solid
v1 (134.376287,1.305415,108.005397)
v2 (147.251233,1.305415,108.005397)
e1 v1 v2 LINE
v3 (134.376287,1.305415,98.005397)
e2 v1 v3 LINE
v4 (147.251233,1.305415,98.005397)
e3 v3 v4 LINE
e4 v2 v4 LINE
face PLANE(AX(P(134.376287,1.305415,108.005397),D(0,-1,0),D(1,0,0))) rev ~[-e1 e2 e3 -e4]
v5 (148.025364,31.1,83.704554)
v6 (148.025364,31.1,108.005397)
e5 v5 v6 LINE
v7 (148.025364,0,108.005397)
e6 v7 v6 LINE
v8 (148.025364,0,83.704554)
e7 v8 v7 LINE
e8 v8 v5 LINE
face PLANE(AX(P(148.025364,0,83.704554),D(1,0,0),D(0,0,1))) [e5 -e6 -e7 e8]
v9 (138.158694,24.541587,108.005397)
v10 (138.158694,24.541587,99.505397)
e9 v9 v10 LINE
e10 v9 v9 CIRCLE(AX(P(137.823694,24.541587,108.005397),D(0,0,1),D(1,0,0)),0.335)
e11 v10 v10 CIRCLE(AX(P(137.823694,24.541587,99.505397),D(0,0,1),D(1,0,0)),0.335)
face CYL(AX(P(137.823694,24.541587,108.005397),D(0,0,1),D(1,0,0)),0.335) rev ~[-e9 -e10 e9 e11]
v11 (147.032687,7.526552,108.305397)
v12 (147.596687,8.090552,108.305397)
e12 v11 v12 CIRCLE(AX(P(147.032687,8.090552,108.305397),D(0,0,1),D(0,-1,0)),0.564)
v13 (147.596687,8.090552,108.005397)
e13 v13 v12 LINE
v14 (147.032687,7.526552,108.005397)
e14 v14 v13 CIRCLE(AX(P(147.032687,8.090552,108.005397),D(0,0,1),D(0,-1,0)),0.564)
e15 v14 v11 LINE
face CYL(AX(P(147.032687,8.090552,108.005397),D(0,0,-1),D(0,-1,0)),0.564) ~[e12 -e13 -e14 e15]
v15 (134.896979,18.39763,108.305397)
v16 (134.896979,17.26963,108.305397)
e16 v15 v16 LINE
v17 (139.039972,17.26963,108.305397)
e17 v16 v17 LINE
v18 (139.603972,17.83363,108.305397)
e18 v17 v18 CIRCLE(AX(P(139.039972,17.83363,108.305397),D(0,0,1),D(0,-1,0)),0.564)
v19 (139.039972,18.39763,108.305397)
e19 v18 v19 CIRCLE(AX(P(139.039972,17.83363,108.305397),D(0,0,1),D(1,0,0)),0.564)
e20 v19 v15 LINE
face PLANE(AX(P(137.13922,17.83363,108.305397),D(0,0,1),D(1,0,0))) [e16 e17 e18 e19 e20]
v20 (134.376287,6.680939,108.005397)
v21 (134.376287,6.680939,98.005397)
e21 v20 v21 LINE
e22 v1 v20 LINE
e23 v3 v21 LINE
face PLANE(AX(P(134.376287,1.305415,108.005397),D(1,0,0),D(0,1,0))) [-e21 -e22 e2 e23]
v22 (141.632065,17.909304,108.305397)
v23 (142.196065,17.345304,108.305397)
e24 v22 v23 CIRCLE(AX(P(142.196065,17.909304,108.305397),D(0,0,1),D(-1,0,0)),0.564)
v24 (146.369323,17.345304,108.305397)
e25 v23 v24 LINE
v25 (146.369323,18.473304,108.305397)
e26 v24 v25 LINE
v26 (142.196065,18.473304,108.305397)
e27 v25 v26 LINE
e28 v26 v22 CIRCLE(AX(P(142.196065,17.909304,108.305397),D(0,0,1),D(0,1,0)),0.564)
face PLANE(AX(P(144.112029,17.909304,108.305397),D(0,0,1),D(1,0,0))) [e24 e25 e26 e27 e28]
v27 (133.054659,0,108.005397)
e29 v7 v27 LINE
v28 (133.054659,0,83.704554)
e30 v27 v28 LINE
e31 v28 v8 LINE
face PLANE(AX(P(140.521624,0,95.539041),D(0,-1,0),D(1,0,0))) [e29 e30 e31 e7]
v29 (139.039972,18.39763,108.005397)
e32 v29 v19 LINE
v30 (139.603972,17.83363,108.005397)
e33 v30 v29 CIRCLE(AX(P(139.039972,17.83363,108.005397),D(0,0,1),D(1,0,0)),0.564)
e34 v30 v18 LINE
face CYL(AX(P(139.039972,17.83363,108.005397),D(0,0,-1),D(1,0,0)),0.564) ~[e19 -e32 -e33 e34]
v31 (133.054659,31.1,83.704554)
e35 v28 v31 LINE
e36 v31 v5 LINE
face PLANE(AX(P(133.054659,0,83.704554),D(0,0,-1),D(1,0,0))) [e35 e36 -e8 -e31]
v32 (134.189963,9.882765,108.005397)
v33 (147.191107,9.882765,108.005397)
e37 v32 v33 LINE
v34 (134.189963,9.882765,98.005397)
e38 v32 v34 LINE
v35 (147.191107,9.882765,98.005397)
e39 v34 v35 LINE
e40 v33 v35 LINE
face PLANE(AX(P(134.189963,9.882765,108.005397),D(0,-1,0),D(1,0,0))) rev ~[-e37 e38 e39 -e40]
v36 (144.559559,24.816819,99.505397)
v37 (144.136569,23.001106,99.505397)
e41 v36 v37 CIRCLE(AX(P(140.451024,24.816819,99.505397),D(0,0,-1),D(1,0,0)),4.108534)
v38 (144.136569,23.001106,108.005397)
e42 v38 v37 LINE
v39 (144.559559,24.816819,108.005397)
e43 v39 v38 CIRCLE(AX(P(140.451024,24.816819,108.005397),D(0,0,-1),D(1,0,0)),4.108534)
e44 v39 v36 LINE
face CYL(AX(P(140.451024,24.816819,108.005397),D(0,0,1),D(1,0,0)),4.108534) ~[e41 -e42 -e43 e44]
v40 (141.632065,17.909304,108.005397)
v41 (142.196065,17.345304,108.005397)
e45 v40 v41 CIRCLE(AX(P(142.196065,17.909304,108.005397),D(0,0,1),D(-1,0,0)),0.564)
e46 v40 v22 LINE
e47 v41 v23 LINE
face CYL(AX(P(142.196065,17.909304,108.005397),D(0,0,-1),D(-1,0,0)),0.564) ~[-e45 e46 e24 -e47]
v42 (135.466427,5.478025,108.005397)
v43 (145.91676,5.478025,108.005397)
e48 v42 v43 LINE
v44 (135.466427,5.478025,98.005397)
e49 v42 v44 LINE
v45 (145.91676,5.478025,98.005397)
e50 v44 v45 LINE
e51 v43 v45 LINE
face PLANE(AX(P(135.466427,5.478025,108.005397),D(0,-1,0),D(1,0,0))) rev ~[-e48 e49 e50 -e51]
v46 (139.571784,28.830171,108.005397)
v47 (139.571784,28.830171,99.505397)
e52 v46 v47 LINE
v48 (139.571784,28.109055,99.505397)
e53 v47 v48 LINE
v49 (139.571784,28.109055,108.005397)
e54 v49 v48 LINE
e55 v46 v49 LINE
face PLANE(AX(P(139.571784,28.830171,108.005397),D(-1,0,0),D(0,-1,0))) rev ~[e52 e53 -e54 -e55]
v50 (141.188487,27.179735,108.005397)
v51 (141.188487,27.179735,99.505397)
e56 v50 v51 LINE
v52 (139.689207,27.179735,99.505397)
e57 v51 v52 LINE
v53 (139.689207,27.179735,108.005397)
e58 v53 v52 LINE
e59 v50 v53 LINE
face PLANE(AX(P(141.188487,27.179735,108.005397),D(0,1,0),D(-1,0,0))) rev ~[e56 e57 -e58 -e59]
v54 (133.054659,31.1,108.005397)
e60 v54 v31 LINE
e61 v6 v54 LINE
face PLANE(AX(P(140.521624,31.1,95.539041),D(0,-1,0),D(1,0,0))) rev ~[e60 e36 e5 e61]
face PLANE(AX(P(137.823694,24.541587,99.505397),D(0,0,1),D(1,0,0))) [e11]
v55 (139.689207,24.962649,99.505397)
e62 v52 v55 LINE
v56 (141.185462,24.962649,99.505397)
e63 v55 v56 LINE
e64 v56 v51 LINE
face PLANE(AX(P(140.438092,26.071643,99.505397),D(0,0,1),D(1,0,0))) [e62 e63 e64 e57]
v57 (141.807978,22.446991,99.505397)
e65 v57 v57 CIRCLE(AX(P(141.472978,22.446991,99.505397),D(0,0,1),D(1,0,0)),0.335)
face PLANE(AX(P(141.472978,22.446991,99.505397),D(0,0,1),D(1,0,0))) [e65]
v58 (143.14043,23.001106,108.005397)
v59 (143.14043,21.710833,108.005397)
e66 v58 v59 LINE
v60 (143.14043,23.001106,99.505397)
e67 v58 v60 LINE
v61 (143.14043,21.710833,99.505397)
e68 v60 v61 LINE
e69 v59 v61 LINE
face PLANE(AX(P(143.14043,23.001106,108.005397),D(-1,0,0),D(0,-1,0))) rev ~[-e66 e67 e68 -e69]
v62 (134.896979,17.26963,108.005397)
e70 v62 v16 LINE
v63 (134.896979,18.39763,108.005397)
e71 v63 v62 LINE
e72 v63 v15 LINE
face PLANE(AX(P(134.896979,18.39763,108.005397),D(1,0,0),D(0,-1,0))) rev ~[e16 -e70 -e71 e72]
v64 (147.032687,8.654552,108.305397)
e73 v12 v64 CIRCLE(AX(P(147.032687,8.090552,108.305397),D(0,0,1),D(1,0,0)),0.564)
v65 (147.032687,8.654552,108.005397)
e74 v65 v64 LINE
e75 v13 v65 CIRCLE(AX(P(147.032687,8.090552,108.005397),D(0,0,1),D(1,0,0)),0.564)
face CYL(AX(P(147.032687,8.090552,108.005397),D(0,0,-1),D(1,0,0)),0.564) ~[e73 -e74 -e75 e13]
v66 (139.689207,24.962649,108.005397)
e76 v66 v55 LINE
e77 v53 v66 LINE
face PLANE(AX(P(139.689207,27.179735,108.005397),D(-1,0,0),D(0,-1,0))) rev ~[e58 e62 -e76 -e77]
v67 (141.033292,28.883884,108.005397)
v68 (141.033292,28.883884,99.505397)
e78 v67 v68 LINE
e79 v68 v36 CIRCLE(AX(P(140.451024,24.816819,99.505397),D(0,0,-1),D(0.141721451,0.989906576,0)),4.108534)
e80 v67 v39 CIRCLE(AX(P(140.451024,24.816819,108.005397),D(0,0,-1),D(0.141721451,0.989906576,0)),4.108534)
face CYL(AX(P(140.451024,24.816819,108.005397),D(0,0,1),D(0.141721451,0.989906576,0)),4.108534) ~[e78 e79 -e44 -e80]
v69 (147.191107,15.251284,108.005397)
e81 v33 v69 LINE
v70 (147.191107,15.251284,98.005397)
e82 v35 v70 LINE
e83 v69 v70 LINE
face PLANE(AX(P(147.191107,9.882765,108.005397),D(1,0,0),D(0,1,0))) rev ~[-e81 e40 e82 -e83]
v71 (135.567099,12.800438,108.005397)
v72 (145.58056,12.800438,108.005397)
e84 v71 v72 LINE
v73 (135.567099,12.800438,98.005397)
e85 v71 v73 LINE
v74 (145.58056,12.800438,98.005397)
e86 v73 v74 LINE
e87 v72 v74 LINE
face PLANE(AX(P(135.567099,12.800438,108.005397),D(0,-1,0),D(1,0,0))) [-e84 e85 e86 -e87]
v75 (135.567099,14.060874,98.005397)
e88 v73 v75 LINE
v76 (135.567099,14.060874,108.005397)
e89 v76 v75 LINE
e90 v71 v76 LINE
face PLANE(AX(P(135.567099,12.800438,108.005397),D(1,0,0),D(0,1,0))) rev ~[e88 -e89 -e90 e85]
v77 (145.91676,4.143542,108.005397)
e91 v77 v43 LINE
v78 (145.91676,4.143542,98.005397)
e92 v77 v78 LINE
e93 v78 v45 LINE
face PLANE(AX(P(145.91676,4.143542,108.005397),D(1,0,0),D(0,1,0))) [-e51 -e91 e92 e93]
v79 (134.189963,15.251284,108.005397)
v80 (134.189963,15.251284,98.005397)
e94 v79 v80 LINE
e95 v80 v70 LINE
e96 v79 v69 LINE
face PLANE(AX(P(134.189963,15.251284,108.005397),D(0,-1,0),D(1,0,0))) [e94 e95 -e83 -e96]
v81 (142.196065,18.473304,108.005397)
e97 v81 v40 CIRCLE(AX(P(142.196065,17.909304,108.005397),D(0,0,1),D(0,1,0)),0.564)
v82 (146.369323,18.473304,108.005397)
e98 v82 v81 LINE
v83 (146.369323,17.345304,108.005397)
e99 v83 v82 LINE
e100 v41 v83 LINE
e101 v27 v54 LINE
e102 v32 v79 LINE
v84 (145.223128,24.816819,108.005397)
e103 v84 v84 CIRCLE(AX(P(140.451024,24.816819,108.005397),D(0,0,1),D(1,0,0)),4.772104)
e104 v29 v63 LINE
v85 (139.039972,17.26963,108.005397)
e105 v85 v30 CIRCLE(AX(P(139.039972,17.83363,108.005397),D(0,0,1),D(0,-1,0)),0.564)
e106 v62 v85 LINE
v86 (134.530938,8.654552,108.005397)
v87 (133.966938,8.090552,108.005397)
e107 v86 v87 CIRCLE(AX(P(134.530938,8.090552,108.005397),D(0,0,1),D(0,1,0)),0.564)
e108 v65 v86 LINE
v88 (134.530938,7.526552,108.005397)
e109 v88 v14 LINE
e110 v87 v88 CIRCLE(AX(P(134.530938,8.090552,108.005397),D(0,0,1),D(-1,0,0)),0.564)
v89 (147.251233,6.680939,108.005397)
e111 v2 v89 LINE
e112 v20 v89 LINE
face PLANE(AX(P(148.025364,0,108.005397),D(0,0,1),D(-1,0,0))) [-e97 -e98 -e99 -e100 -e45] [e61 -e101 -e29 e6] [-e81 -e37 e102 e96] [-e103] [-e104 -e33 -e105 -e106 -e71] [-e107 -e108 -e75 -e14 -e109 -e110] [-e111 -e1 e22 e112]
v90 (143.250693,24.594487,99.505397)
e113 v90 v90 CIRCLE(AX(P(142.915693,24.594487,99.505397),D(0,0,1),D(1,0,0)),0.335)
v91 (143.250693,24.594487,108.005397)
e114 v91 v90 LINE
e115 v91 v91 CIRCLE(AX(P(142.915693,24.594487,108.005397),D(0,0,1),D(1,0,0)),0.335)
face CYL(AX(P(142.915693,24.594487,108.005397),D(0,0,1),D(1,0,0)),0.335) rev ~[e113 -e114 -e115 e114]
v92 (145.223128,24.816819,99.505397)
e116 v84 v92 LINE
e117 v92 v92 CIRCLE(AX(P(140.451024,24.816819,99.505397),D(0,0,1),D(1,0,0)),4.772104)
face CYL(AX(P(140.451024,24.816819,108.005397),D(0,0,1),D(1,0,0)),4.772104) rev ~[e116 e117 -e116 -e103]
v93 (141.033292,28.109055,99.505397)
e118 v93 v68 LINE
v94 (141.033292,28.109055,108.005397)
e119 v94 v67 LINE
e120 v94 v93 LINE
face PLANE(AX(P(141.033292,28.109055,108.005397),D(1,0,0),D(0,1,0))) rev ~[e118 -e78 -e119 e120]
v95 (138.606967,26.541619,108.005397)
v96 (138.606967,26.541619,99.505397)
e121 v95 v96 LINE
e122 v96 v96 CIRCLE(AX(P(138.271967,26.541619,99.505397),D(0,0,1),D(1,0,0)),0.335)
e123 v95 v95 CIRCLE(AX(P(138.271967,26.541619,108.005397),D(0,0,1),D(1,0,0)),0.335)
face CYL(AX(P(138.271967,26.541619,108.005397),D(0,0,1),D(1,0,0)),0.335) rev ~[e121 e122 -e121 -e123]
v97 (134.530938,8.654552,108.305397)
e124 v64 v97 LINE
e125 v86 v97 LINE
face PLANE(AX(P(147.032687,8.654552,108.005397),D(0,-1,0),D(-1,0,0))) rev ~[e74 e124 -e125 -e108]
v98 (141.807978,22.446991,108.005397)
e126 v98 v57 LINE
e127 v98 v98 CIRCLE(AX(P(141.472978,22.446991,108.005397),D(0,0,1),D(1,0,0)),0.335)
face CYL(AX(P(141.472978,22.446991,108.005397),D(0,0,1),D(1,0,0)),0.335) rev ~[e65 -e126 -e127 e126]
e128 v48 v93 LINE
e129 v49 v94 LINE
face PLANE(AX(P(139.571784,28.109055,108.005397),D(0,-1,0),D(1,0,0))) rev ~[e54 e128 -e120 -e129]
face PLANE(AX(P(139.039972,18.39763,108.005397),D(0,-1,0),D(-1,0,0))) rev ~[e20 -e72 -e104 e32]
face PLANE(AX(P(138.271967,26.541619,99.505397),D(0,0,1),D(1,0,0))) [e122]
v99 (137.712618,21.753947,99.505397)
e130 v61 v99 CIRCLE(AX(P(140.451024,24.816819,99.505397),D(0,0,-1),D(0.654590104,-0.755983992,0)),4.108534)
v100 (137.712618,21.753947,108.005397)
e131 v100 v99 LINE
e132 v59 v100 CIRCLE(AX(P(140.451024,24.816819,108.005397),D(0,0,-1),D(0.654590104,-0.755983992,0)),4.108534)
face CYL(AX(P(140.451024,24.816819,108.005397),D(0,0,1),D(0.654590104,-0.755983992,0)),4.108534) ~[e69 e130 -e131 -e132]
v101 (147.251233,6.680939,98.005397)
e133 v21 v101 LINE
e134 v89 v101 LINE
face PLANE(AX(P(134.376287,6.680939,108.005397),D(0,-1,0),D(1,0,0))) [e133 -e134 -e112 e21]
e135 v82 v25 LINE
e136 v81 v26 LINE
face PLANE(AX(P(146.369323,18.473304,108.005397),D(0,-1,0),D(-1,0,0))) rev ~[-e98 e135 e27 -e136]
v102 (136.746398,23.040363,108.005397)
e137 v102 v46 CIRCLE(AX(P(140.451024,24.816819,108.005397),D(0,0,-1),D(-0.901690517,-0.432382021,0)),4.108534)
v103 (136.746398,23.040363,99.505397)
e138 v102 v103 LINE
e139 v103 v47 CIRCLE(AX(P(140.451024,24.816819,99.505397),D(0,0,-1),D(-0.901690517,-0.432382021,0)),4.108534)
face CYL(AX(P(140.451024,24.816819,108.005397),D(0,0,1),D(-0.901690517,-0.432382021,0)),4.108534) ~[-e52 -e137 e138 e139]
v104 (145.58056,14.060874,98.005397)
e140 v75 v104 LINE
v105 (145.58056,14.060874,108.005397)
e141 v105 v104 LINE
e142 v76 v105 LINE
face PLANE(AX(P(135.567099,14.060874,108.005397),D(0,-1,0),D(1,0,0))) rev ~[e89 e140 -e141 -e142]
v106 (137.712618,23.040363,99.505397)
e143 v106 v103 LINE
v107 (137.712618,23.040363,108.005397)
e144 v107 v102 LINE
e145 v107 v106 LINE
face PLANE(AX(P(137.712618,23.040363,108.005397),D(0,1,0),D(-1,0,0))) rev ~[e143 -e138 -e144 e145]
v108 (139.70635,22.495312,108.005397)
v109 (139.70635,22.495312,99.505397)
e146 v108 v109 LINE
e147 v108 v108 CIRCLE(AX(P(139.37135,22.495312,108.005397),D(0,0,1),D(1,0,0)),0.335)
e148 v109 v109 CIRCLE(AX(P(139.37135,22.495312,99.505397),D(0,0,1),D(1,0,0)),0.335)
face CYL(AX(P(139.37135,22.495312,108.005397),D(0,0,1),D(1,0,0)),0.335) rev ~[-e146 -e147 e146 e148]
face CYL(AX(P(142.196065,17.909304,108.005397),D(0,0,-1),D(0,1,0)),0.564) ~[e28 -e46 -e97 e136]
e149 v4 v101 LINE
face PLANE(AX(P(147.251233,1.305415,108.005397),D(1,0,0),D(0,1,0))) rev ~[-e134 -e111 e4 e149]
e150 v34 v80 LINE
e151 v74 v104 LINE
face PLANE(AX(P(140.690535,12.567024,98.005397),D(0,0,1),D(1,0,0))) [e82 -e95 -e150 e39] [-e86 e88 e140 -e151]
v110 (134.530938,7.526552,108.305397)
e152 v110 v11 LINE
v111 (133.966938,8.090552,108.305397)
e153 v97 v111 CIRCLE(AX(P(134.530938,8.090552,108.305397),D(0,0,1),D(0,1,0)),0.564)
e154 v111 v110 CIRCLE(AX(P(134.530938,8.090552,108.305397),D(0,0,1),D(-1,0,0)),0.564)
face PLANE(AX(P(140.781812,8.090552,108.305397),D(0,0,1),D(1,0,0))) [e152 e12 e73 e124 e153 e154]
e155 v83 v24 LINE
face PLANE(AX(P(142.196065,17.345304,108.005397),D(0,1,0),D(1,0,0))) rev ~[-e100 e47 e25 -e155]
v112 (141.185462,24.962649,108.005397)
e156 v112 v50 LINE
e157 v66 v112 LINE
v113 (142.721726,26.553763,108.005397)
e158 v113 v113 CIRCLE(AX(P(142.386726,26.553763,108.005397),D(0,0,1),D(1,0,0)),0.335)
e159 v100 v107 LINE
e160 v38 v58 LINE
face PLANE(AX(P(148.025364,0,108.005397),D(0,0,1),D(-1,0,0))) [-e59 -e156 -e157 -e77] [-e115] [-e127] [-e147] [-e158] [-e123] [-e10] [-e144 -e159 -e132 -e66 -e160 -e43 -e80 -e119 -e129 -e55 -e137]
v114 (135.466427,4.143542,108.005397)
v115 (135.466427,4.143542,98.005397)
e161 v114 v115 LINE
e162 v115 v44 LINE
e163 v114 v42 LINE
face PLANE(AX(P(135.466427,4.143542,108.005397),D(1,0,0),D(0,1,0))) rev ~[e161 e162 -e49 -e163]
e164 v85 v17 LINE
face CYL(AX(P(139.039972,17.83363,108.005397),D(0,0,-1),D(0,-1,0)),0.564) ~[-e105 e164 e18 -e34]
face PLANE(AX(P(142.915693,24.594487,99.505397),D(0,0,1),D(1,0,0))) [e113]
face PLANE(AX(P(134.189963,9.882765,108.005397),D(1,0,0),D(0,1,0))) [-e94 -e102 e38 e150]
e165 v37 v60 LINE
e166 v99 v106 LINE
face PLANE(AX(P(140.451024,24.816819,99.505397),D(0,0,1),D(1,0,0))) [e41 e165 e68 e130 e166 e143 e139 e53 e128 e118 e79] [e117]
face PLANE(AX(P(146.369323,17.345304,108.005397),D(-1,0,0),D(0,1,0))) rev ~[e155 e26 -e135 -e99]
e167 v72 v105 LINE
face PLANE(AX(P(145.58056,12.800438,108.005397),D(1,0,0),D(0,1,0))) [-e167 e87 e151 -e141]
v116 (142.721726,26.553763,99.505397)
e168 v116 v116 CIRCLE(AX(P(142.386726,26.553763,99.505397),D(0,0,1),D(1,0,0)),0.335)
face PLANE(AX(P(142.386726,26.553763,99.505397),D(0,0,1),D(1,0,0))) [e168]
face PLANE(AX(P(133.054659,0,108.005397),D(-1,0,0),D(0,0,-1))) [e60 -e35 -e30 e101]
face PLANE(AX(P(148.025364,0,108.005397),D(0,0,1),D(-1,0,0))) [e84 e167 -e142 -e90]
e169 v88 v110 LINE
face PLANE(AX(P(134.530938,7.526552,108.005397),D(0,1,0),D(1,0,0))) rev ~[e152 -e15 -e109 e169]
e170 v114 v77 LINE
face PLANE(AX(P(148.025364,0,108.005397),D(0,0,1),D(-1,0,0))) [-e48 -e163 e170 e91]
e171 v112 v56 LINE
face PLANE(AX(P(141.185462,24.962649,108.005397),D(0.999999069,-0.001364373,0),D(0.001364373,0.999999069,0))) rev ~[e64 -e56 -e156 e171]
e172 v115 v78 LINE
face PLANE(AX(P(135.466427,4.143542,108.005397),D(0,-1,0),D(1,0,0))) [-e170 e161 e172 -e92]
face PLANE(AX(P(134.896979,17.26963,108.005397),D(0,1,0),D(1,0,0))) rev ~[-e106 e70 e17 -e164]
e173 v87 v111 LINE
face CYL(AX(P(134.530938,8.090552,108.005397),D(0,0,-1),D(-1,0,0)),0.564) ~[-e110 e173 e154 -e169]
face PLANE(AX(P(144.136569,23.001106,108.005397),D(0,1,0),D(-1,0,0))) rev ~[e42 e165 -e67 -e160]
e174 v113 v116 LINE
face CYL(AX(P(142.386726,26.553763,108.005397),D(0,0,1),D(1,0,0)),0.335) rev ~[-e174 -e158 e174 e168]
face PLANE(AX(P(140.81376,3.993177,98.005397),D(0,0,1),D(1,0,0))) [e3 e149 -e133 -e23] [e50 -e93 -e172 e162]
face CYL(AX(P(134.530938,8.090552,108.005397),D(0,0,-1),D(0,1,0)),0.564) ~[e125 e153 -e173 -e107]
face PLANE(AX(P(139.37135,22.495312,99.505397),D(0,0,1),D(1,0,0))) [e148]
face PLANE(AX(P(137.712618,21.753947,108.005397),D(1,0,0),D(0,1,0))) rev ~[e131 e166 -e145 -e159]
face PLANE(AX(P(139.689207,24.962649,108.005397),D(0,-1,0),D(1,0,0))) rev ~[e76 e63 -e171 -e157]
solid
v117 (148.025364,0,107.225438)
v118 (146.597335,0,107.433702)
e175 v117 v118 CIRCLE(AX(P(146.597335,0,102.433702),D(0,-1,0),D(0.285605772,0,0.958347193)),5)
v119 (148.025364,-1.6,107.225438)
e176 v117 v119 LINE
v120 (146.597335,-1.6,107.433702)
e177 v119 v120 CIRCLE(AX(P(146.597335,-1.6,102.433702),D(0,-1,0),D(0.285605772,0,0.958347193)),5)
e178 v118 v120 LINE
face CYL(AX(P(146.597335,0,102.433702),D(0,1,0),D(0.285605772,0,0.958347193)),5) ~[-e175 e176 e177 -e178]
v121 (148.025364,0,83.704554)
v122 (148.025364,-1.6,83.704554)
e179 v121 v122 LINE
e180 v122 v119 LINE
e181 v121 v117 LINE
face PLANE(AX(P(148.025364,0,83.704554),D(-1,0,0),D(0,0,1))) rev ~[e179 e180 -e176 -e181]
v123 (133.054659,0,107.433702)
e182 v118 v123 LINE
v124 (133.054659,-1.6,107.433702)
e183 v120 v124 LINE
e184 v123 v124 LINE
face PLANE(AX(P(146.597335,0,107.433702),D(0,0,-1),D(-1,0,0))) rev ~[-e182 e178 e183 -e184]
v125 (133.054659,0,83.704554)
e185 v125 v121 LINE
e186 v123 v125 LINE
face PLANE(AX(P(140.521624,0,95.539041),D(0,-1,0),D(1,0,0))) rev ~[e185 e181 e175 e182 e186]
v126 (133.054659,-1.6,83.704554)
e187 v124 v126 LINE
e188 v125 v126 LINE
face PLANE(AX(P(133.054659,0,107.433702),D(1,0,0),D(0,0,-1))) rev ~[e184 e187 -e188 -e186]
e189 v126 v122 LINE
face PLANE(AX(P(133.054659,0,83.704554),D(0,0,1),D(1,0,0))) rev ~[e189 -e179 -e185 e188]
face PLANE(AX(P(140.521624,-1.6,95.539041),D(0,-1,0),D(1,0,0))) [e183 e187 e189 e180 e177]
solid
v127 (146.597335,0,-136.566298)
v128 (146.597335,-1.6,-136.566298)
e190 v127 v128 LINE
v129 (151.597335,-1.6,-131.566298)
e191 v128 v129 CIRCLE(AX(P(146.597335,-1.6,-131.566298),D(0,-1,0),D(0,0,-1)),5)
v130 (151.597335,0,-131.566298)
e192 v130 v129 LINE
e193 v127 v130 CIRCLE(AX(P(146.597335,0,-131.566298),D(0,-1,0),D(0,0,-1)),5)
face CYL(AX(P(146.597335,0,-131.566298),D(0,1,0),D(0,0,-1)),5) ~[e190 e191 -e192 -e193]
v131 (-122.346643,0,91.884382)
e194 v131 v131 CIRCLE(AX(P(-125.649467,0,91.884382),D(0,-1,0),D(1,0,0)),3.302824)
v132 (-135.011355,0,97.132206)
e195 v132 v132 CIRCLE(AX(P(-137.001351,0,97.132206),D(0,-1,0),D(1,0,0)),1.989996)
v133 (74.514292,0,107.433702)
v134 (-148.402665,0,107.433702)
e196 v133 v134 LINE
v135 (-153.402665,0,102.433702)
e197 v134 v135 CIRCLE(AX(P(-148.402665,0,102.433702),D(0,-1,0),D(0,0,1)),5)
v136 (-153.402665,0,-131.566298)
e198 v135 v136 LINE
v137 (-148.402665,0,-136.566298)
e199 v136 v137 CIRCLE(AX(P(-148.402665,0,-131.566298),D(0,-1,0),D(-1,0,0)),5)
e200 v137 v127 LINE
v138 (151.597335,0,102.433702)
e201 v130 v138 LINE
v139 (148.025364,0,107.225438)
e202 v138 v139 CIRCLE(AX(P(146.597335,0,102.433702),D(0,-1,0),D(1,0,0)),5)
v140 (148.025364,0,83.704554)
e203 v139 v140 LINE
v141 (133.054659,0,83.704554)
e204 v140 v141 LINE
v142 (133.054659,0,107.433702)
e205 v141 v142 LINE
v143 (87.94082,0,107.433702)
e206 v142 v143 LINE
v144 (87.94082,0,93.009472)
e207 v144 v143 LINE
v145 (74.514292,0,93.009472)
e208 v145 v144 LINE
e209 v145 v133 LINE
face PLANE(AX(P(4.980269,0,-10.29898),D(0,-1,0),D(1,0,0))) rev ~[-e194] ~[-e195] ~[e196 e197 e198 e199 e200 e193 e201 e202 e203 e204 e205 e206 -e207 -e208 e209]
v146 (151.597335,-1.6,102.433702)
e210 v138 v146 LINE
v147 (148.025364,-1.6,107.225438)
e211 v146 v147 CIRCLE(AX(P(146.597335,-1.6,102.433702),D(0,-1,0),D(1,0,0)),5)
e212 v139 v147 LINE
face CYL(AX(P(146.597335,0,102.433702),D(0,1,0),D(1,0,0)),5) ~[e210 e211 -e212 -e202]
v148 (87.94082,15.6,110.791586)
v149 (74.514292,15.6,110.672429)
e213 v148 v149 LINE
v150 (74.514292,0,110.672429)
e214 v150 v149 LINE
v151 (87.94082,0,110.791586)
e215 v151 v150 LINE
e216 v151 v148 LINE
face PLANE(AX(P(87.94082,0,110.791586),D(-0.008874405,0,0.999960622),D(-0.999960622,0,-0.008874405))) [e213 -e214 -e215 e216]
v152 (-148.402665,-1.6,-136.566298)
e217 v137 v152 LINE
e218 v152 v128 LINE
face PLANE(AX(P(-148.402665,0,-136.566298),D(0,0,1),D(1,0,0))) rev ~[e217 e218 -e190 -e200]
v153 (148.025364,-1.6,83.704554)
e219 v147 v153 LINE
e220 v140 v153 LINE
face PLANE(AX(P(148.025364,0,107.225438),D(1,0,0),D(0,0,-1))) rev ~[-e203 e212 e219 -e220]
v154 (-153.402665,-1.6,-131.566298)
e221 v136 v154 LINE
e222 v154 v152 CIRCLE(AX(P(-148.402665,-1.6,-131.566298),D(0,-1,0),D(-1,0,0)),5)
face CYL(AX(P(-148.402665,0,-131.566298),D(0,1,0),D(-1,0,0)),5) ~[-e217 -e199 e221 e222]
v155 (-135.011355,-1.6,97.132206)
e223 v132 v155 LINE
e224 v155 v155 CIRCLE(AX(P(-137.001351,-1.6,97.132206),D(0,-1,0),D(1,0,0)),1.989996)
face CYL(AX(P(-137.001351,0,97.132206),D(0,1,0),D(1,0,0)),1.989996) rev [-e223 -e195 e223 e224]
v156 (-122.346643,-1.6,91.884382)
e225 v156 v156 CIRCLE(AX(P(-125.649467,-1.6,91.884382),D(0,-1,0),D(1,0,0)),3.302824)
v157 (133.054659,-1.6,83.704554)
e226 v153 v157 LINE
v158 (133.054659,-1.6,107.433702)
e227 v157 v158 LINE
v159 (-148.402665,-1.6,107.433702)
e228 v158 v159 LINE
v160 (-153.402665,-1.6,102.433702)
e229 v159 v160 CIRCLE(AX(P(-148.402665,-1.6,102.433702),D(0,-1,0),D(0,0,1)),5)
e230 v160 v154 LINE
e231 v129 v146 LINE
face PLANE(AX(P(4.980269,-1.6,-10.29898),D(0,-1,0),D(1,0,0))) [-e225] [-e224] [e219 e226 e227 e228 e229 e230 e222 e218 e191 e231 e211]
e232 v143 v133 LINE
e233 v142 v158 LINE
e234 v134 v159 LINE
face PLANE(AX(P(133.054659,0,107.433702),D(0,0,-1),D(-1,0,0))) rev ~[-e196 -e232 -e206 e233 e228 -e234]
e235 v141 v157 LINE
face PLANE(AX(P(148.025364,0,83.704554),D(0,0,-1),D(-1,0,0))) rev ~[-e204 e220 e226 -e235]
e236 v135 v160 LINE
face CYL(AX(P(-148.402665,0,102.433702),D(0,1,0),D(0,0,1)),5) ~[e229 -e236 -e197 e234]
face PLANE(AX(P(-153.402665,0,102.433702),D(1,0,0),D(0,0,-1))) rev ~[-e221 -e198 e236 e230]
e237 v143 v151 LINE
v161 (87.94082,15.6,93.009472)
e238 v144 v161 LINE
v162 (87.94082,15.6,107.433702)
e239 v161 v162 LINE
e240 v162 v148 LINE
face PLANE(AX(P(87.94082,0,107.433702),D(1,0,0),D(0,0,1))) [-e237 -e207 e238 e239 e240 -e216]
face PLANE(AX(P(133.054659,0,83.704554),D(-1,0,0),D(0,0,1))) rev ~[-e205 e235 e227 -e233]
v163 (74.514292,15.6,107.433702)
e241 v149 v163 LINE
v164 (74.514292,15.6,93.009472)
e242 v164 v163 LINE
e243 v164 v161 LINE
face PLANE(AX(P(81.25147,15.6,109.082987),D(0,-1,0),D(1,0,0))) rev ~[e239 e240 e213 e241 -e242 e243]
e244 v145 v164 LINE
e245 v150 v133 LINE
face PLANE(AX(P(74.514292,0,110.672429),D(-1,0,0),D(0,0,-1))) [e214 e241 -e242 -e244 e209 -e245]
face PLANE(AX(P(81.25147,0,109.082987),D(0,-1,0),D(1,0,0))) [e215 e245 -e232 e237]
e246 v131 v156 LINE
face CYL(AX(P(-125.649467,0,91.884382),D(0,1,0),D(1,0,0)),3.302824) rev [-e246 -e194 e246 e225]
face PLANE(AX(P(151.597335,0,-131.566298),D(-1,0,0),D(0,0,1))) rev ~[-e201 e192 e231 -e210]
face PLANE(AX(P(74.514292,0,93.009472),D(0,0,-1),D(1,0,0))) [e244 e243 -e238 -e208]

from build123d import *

# Parameters (mm, degrees)
F1_DEPTH  = 31.1
F2_R      = 4.7721035724
F2_R_2    = 0.335
F3_DEPTH  = 8.5
F4_DEPTH  = 0.3
F2_W      = 13.0011439323
F2_H      = 5.3685186431
F2_W_2    = 10.013461113
F2_H_2    = 1.2604352087
F2_W_3    = 12.8749459982
F2_H_3    = 5.3755240515
F2_W_4    = 10.4503333569
F2_H_4    = 1.3344832696
F5_DEPTH  = 10
F6_DEPTH  = 0.3
F0_R      = 3.3028242823
F0_R_2    = 1.9899956973
F7_DEPTH  = 1.6
F8_DEPTH  = 1.6
F9_W      = 13.4265273809
F9_H      = 14.4242305644
F10_DEPTH = 15.6


with BuildPart() as f1:
    # F0 (on Front) → F1 (new body)
    with BuildSketch(Plane.XZ):
        with BuildLine():
            Line((146.5973348236, 107.4337024577), (133.0546587706, 107.4337024577))
            Line((133.0546587706, 107.4337024577), (133.0546587706, 83.7045535445))
            Line((133.0546587706, 83.7045535445), (148.0253636837, 83.7045535445))
            Line((148.0253636837, 83.7045535445), (148.0253636837, 107.2254384245))
            ThreePointArc((148.0253636837, 107.2254384245), (147.3189026189, 107.3813625023), (146.5973348236, 107.4337024577))
        make_face()
        with BuildLine():
            Line((133.0546587706, 108.0053970218), (133.0546587706, 107.4337024577))
            Line((133.0546587706, 107.4337024577), (146.5973348236, 107.4337024577))
            ThreePointArc((146.5973348236, 107.4337024577), (147.3189026189, 107.3813625023), (148.0253636837, 107.2254384245))
            Line((148.0253636837, 107.2254384245), (148.0253636837, 108.0053970218))
            Line((148.0253636837, 108.0053970218), (133.0546587706, 108.0053970218))
        make_face()
    extrude(amount=-F1_DEPTH)

    # F2 (on face) → F3 (cut)
    with BuildSketch(Plane.XY.offset(108.0053970218)):
        with Locations((140.4510243781, 24.8168191715)):
            Circle(F2_R)
        with BuildLine():
            ThreePointArc((141.0332918167, 28.8838842541), (143.5552408232, 27.5082674839), (144.559558637, 24.8168191715))
            ThreePointArc((144.559558637, 24.8168191715), (144.4524142101, 23.8846533229), (144.136569262, 23.0011064559))
            ThreePointArc((144.136569262, 23.0011064559), (143.7031314856, 22.3060716497), (143.1404302446, 21.7108330411))
            ThreePointArc((143.1404302446, 21.7108330411), (140.4183904808, 20.7084145193), (137.7126180122, 21.7539472623))
            ThreePointArc((137.7126180122, 21.7539472623), (137.1659240775, 22.3493974864), (136.7463979999, 23.0403628239))
            ThreePointArc((136.7463979999, 23.0403628239), (136.7586772419, 26.6186588932), (139.5717839459, 28.8301706411))
            ThreePointArc((139.5717839459, 28.8301706411), (140.3001286267, 28.9225814915), (141.0332918167, 28.8838842541))
        make_face(mode=Mode.SUBTRACT)
        Polygon((139.689207077, 24.9626487494), (141.1854624748, 24.9626487494), (141.1884874105, 27.1797347814), (139.689207077, 27.1797347814), align=None)
        with BuildLine():
            Line((141.0332918167, 28.1090545301), (141.0332918167, 28.8838842541))
            ThreePointArc((141.0332918167, 28.8838842541), (140.3001286267, 28.9225814915), (139.5717839459, 28.8301706411))
            Line((139.5717839459, 28.8301706411), (139.5717839459, 28.1090545301))
            Line((139.5717839459, 28.1090545301), (141.0332918167, 28.1090545301))
        make_face()
        with BuildLine():
            ThreePointArc((143.1404302446, 21.7108330411), (143.7031314856, 22.3060716497), (144.136569262, 23.0011064559))
            Line((144.136569262, 23.0011064559), (143.1404302446, 23.0011064559))
            Line((143.1404302446, 23.0011064559), (143.1404302446, 21.7108330411))
        make_face()
        with BuildLine():
            Line((137.7126180122, 23.0403628239), (136.7463979999, 23.0403628239))
            ThreePointArc((136.7463979999, 23.0403628239), (137.1659240775, 22.3493974864), (137.7126180122, 21.7539472623))
            Line((137.7126180122, 21.7539472623), (137.7126180122, 23.0403628239))
        make_face()
        with Locations((141.4729776408, 22.4469911506)):
            Circle(F2_R_2)
        with Locations((139.3713495952, 22.4953122328)):
            Circle(F2_R_2)
        with Locations((137.8236935557, 24.5415867312)):
            Circle(F2_R_2)
        with Locations((138.271967138, 26.541619488)):
            Circle(F2_R_2)
        with Locations((142.3867255578, 26.5537630882)):
            Circle(F2_R_2)
        with Locations((142.9156926089, 24.5944873077)):
            Circle(F2_R_2)
    extrude(amount=-F3_DEPTH, mode=Mode.SUBTRACT)

    # F2 (on face) → F4 (join)
    with BuildSketch(Plane.XY.offset(108.0053970218)):
        with BuildLine():
            Line((139.039972435, 18.3976299851), (134.8969787359, 18.3976299851))
            Line((134.8969787359, 18.3976299851), (134.8969787359, 17.2696299851))
            Line((134.8969787359, 17.2696299851), (139.039972435, 17.2696299851))
            ThreePointArc((139.039972435, 17.2696299851), (139.4387806596, 17.4348217605), (139.603972435, 17.8336299851))
            ThreePointArc((139.603972435, 17.8336299851), (139.4387806596, 18.2324382097), (139.039972435, 18.3976299851))
        make_face()
        with BuildLine():
            Line((146.3693231344, 17.3453036696), (146.3693231344, 18.4733036696))
            Line((146.3693231344, 18.4733036696), (142.196065177, 18.4733036696))
            ThreePointArc((142.196065177, 18.4733036696), (141.7972569524, 18.3081118942), (141.632065177, 17.9093036696))
            ThreePointArc((141.632065177, 17.9093036696), (141.7972569524, 17.510495445), (142.196065177, 17.3453036696))
            Line((142.196065177, 17.3453036696), (146.3693231344, 17.3453036696))
        make_face()
    extrude(amount=F4_DEPTH)

    # F2 (on face) → F5 (cut)
    with BuildSketch(Plane.XY.offset(108.0053970218)):
        with Locations((140.6905353069, 12.5670242123)):
            Rectangle(F2_W, F2_H)
        with Locations((140.5738294125, 13.4306559339)):
            Rectangle(F2_W_2, F2_H_2, mode=Mode.SUBTRACT)
        with Locations((140.8137604594, 3.9931773208)):
            Rectangle(F2_W_3, F2_H_3)
        with Locations((140.6915932894, 4.8107833136)):
            Rectangle(F2_W_4, F2_H_4, mode=Mode.SUBTRACT)
    extrude(amount=-F5_DEPTH, mode=Mode.SUBTRACT)

    # F2 (on face) → F6 (join)
    with BuildSketch(Plane.XY.offset(108.0053970218)):
        with BuildLine():
            Line((147.0326870785, 8.654551839), (134.5309376612, 8.654551839))
            ThreePointArc((134.5309376612, 8.654551839), (134.1321294366, 8.4893600636), (133.9669376612, 8.090551839))
            ThreePointArc((133.9669376612, 8.090551839), (134.1321294366, 7.6917436144), (134.5309376612, 7.526551839))
            Line((134.5309376612, 7.526551839), (147.0326870785, 7.526551839))
            ThreePointArc((147.0326870785, 7.526551839), (147.4314953031, 7.6917436144), (147.5966870785, 8.090551839))
            ThreePointArc((147.5966870785, 8.090551839), (147.4314953031, 8.4893600636), (147.0326870785, 8.654551839))
        make_face()
    extrude(amount=F6_DEPTH)


with BuildPart() as f7:
    # F0 (on Front) → F7 (new body)
    with BuildSketch(Plane.XZ):
        with BuildLine():
            Line((133.0546587706, 107.4337024577), (-148.4026651764, 107.4337024577))
            ThreePointArc((-148.4026651764, 107.4337024577), (-151.9381990823, 105.9692363637), (-153.4026651764, 102.4337024577))
            Line((-153.4026651764, 102.4337024577), (-153.4026651764, -131.5662975423))
            ThreePointArc((-153.4026651764, -131.5662975423), (-151.9381990823, -135.1018314482), (-148.4026651764, -136.5662975423))
            Line((-148.4026651764, -136.5662975423), (146.5973348236, -136.5662975423))
            ThreePointArc((146.5973348236, -136.5662975423), (150.1328687296, -135.1018314482), (151.5973348236, -131.5662975423))
            Line((151.5973348236, -131.5662975423), (151.5973348236, 102.4337024577))
            ThreePointArc((151.5973348236, 102.4337024577), (150.6060842733, 105.4220009451), (148.0253636837, 107.2254384245))
            Line((148.0253636837, 107.2254384245), (148.0253636837, 83.7045535445))
            Line((148.0253636837, 83.7045535445), (133.0546587706, 83.7045535445))
            Line((133.0546587706, 83.7045535445), (133.0546587706, 107.4337024577))
        make_face()
        with Locations((-125.6494671106, 91.8843820691)):
            Circle(F0_R, mode=Mode.SUBTRACT)
        with Locations((-137.001350522, 97.1322059631)):
            Circle(F0_R_2, mode=Mode.SUBTRACT)
    extrude(amount=F7_DEPTH)

    # F9 (on face) → F10 (join)
    with BuildSketch(Plane.XZ):
        Polygon((87.9408195615, 107.4337024577), (87.9408195615, 110.7915863395), (74.5142921805, 110.672429204), (74.5142921805, 107.4337024577), align=None)
        with Locations((81.227555871, 100.2215871755)):
            Rectangle(F9_W, F9_H)
    extrude(amount=-F10_DEPTH)


with BuildPart() as f8:
    # F0 (on Front) → F8 (new body)
    with BuildSketch(Plane.XZ):
        with BuildLine():
            Line((146.5973348236, 107.4337024577), (133.0546587706, 107.4337024577))
            Line((133.0546587706, 107.4337024577), (133.0546587706, 83.7045535445))
            Line((133.0546587706, 83.7045535445), (148.0253636837, 83.7045535445))
            Line((148.0253636837, 83.7045535445), (148.0253636837, 107.2254384245))
            ThreePointArc((148.0253636837, 107.2254384245), (147.3189026189, 107.3813625023), (146.5973348236, 107.4337024577))
        make_face()
    extrude(amount=F8_DEPTH)


solid = Compound([f1.part, f7.part, f8.part])
